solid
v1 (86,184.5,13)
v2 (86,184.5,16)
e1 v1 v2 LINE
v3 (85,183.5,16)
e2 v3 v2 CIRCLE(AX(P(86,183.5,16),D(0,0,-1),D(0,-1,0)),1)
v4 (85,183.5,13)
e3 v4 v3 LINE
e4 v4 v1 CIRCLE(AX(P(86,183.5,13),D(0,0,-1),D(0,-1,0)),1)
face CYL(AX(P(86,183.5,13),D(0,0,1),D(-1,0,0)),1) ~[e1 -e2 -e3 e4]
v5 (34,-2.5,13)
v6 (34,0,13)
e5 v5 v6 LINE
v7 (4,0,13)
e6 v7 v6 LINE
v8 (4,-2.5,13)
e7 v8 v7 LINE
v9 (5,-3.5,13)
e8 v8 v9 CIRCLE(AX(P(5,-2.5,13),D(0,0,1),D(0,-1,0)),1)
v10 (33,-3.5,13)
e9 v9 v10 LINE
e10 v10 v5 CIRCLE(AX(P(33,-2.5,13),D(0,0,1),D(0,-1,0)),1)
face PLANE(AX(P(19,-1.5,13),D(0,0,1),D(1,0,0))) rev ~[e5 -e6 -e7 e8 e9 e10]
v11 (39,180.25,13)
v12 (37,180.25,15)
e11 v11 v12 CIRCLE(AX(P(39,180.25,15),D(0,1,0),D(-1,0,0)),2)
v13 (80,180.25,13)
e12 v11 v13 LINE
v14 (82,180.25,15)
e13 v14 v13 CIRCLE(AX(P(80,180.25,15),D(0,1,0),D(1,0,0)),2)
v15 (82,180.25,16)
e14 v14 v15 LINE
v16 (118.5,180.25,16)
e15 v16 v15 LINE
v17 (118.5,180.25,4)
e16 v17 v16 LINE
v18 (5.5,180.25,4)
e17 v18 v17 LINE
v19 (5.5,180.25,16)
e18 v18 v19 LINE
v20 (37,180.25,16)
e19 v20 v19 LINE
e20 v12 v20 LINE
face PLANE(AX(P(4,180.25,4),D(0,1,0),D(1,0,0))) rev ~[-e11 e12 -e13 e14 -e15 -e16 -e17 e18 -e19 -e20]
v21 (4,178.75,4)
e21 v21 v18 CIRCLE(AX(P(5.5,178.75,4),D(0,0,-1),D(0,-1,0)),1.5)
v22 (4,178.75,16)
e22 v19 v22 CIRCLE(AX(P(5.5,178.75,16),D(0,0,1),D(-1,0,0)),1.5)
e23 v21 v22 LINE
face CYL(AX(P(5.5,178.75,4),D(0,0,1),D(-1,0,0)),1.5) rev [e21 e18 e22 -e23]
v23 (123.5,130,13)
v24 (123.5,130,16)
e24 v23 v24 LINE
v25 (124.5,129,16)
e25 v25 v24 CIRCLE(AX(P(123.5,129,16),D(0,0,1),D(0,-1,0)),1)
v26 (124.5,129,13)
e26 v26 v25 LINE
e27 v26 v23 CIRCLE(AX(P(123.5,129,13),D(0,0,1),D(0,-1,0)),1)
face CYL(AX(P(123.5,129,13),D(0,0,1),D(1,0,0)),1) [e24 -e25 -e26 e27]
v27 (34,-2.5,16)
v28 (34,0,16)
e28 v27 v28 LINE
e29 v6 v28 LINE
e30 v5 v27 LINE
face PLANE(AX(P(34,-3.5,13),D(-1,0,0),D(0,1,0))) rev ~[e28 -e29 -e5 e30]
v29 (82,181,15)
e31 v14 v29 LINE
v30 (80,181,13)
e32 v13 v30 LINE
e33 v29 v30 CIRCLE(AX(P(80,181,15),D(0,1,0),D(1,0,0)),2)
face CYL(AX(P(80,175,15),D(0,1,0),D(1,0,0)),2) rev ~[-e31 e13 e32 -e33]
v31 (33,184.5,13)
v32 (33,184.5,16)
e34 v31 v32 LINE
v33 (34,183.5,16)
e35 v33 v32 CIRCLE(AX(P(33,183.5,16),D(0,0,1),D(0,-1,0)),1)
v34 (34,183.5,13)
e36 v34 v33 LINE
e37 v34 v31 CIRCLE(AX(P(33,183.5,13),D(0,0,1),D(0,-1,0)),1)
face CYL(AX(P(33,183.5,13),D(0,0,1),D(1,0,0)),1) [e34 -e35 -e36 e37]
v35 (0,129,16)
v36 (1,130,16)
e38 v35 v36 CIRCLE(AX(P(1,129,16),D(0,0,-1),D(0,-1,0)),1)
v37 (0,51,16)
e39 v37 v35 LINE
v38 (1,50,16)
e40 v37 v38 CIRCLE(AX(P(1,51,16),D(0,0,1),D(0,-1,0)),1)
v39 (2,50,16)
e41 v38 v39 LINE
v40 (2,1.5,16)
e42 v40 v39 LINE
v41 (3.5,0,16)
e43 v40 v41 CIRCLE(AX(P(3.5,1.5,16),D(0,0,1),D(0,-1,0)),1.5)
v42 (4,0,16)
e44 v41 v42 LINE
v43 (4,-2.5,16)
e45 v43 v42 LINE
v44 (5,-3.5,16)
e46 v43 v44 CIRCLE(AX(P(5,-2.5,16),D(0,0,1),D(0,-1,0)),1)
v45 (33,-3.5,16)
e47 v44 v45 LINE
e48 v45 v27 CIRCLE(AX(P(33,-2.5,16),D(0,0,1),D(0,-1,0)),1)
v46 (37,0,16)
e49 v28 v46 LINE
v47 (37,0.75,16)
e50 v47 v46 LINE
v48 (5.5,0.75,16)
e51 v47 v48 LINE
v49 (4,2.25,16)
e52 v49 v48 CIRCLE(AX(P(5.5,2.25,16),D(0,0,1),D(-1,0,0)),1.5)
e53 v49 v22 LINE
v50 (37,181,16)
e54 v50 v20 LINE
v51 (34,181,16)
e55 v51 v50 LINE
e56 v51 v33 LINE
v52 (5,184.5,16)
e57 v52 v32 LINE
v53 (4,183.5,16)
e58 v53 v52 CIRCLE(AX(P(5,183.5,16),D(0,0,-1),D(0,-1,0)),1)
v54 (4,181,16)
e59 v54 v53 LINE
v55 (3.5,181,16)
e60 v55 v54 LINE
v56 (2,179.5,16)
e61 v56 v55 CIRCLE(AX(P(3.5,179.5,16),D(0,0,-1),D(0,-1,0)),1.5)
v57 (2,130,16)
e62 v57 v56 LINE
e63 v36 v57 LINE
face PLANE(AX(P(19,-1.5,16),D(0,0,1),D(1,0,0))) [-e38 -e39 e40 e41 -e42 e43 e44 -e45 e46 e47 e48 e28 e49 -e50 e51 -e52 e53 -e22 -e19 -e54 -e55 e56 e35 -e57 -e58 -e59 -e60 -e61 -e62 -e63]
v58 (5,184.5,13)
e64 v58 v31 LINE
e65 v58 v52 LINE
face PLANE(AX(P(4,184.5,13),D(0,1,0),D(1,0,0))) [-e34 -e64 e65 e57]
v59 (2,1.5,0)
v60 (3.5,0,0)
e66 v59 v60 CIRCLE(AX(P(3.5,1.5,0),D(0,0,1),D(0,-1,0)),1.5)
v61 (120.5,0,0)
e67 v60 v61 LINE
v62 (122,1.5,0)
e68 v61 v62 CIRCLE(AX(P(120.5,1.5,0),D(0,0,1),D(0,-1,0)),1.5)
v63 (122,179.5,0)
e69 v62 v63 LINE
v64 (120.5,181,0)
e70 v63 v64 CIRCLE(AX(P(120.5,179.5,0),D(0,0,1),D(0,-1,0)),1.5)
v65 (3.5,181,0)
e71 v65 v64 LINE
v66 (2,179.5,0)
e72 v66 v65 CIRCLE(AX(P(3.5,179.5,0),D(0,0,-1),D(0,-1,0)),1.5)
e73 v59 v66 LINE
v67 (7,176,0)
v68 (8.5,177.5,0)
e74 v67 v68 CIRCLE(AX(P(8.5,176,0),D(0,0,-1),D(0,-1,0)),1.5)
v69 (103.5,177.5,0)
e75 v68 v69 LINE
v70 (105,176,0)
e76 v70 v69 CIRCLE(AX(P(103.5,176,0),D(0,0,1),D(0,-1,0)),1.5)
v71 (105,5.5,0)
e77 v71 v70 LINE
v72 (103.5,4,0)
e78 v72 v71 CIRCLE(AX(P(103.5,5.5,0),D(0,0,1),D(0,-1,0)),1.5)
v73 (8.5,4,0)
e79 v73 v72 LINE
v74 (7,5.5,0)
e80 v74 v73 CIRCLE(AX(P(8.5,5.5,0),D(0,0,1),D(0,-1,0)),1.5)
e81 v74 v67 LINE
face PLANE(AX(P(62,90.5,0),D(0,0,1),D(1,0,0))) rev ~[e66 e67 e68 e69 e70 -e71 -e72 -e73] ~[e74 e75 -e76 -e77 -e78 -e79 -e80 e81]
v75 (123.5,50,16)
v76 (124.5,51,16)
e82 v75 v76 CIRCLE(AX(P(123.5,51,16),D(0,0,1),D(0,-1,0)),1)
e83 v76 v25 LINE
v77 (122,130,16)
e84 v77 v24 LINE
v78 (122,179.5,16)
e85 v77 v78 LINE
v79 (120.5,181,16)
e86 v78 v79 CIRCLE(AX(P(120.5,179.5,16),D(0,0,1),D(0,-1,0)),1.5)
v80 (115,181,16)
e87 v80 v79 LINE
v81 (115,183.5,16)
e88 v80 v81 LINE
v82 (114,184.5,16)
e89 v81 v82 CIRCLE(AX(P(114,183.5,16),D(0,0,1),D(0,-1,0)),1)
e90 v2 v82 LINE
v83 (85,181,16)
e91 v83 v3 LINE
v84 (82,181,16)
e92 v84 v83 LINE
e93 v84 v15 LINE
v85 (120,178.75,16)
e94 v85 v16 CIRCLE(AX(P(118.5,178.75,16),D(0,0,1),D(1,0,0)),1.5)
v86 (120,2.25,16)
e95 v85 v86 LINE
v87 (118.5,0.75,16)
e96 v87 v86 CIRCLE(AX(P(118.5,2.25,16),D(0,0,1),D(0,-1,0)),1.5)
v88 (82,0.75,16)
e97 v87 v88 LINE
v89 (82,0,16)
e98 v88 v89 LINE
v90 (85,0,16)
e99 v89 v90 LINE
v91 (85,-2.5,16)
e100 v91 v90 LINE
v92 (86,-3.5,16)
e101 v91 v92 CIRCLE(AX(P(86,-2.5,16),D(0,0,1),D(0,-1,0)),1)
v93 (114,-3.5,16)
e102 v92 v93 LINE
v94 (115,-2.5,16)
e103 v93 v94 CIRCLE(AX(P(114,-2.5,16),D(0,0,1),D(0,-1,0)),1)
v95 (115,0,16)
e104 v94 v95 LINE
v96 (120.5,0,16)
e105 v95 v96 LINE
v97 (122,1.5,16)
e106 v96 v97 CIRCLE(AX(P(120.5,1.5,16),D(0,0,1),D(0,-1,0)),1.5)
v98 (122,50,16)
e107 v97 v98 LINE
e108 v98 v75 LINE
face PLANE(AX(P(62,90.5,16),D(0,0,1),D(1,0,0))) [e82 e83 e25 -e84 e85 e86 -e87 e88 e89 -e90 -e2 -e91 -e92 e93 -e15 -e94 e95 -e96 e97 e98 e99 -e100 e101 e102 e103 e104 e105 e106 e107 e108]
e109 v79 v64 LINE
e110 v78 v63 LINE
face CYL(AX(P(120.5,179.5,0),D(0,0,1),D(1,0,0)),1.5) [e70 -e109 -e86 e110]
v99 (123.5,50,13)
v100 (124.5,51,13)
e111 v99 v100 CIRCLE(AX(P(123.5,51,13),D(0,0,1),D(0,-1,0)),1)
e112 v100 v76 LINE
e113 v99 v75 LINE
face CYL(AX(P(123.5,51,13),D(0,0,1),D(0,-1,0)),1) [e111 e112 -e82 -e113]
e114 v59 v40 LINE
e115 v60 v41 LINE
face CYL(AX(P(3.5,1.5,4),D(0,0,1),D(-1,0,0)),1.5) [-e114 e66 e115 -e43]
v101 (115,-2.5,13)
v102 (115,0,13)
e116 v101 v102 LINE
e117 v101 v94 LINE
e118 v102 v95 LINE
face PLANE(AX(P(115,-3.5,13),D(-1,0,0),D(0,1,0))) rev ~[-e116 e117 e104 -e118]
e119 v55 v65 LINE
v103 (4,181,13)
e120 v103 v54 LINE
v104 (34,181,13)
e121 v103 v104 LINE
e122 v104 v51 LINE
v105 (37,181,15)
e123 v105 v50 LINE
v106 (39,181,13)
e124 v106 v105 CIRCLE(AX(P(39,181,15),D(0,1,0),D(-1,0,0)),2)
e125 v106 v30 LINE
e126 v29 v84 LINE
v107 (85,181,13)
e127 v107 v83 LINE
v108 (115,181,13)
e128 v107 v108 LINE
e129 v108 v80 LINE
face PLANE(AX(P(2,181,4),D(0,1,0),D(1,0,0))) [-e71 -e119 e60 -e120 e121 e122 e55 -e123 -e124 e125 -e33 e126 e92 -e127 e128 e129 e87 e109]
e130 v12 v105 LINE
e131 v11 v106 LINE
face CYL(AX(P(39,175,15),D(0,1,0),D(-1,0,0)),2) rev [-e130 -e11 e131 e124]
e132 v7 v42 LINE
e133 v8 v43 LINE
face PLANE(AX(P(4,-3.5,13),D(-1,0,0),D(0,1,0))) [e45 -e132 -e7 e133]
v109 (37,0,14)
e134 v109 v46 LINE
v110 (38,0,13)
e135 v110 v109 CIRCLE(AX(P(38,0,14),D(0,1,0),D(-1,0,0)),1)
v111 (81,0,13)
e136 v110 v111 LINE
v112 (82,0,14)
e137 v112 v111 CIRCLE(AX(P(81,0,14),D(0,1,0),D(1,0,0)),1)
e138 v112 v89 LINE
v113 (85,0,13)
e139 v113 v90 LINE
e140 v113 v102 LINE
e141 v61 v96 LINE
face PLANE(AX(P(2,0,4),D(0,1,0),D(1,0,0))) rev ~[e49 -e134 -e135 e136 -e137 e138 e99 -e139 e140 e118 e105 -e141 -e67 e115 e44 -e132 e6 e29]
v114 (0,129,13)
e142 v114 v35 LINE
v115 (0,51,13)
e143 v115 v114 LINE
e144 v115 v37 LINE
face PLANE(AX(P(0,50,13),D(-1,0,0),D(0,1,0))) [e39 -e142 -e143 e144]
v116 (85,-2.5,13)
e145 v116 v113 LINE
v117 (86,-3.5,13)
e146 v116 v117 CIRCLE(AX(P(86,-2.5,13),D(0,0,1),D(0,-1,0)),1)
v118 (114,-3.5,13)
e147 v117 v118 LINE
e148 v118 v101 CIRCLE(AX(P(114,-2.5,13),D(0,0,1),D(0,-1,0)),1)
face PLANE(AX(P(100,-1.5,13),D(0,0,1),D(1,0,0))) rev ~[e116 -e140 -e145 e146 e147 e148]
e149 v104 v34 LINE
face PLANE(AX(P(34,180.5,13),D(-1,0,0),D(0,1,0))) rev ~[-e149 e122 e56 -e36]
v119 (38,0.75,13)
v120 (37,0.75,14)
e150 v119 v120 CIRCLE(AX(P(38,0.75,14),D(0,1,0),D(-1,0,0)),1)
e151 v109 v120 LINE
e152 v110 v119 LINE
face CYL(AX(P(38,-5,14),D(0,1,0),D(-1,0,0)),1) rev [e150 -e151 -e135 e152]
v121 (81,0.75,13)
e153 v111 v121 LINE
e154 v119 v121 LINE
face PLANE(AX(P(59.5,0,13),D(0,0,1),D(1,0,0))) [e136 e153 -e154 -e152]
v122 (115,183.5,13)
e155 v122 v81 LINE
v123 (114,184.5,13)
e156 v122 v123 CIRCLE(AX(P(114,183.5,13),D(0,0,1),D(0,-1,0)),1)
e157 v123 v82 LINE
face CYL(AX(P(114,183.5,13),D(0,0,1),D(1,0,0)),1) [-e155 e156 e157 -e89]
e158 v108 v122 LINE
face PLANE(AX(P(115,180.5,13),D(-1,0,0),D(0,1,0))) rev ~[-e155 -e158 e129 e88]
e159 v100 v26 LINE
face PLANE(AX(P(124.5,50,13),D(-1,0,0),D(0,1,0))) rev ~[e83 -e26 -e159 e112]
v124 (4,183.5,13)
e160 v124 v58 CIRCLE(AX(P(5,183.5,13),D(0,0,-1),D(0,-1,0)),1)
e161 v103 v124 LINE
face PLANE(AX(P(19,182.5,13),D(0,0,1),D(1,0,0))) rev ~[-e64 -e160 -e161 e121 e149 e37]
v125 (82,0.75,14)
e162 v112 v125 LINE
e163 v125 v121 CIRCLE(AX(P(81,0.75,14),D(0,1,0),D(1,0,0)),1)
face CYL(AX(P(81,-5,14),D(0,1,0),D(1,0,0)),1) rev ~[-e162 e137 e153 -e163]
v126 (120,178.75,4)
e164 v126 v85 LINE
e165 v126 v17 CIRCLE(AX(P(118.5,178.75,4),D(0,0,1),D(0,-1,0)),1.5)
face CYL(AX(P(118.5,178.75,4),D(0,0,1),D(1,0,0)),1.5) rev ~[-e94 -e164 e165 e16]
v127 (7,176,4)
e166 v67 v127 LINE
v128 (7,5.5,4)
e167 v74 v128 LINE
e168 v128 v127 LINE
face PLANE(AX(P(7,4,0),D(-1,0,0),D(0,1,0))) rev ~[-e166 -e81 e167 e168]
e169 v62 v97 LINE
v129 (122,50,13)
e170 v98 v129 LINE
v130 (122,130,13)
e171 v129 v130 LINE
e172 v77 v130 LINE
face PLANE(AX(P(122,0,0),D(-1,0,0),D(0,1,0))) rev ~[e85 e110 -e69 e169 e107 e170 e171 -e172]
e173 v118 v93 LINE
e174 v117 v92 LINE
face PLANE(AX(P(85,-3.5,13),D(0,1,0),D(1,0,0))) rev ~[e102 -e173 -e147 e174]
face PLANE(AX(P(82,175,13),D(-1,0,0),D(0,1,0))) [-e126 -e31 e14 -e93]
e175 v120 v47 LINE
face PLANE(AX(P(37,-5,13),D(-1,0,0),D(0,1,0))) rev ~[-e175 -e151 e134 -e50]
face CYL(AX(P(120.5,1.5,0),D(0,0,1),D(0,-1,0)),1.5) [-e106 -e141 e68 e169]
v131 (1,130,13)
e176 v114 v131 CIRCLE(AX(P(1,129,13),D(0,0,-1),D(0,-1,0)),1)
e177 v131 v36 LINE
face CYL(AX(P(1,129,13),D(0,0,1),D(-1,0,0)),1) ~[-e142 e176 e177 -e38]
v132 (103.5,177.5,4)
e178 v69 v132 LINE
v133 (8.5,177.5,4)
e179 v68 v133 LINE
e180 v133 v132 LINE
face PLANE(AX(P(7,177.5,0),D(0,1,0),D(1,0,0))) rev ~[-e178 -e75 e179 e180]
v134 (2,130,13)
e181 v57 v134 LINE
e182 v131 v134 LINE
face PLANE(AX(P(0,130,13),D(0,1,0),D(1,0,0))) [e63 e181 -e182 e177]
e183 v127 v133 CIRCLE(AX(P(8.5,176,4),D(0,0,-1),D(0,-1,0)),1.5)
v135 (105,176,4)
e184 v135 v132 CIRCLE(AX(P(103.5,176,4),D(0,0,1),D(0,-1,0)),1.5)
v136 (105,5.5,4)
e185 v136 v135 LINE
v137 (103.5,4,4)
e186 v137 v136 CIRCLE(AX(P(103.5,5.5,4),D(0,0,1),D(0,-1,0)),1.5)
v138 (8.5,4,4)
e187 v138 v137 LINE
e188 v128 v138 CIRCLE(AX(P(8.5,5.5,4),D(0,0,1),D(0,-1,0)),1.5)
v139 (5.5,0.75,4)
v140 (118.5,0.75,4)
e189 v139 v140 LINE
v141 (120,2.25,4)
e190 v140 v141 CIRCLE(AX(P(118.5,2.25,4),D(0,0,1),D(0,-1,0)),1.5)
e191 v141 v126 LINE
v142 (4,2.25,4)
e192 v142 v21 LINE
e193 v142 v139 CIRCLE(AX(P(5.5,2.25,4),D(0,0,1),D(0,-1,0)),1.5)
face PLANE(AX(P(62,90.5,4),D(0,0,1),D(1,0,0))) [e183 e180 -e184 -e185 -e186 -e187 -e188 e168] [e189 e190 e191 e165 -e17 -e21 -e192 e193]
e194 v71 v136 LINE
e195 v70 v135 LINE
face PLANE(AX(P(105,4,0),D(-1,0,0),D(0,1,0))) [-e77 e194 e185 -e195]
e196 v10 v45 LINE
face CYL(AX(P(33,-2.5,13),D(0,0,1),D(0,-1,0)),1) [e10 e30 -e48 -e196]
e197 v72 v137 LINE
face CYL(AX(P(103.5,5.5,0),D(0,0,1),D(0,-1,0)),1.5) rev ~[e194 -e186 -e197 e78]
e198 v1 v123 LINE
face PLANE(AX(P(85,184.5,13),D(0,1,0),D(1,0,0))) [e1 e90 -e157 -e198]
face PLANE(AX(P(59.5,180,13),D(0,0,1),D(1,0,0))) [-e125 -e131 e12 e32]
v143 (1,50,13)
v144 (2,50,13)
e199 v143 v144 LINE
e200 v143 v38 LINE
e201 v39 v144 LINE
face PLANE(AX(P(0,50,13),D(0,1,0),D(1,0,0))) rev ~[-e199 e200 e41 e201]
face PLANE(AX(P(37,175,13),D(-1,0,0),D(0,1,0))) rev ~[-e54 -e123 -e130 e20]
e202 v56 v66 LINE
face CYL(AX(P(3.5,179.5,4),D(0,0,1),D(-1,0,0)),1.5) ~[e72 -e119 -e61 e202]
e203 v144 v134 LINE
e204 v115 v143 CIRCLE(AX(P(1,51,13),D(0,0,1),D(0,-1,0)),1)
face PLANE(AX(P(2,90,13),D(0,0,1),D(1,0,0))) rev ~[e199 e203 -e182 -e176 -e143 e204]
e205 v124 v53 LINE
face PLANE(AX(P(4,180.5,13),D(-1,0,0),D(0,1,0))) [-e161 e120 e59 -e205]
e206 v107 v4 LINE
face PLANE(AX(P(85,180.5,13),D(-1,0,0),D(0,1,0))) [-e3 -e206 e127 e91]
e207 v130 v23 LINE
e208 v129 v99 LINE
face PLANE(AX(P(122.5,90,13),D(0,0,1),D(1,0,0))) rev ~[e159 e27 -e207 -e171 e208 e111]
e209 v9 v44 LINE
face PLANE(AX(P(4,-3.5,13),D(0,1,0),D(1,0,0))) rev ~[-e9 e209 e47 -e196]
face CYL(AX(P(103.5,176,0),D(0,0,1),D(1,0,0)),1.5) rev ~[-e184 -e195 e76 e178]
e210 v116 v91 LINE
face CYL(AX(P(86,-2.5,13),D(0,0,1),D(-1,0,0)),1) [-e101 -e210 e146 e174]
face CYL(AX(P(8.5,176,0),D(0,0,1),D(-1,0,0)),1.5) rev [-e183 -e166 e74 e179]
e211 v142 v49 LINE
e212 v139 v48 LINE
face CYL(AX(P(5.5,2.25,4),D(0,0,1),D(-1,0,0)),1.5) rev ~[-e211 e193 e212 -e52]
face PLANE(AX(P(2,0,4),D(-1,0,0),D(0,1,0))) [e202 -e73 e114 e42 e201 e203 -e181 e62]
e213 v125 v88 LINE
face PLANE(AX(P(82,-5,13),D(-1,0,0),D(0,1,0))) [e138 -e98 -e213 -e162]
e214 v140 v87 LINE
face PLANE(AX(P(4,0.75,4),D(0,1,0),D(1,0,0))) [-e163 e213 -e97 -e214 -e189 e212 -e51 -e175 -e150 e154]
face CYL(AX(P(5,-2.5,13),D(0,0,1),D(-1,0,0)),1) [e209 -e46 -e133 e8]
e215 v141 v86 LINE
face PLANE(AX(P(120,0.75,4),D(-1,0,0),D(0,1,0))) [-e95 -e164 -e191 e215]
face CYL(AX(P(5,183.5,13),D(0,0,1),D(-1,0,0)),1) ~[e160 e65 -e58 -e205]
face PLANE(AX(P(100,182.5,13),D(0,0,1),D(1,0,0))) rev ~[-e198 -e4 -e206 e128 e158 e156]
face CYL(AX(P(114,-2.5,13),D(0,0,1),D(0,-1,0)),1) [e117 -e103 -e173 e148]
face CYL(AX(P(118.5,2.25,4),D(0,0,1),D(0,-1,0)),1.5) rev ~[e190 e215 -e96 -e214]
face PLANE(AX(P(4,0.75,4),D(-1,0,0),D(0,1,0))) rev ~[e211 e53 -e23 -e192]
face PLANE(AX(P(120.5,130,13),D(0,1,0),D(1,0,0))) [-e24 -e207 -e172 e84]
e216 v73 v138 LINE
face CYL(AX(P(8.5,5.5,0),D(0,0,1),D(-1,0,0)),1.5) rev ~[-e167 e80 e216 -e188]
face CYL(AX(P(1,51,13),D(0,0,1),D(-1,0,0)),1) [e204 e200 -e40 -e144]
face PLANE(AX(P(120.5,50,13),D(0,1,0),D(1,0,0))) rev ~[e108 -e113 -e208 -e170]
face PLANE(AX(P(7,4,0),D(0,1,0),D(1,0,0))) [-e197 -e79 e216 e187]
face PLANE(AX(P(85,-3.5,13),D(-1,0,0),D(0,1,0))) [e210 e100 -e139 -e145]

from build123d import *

# Parameters (mm, degrees)
BOX011_W      = 4
BOX011_H      = 80
BOX011_DEPTH  = 3
FILLET006_R   = 1
BOX010_W      = 30
BOX010_H      = 4
BOX010_DEPTH  = 3
FILLET007_R   = 1
BOX009_W      = 30
BOX009_H      = 4
BOX009_DEPTH  = 3
FILLET008_R   = 1
BOX008_W      = 30
BOX008_H      = 4
BOX008_DEPTH  = 3
FILLET009_R   = 1
BOX013_W      = 4
BOX013_H      = 80
BOX013_DEPTH  = 3
FILLET010_R   = 1
BOX012_W      = 30
BOX012_H      = 4
BOX012_DEPTH  = 3
FILLET005_R   = 1
BOX006_W      = 45
BOX006_H      = 10
BOX006_DEPTH  = 10
BOX007_W      = 45
BOX007_H      = 10
BOX007_DEPTH  = 10
FILLET004_1_R = 2
FILLET004_2_R = 1
BOX003_W      = 116
BOX003_H      = 179.5
BOX003_DEPTH  = 20
FILLET002_R   = 1.5
BOX002_W      = 120
BOX002_H      = 181
BOX002_DEPTH  = 12
FILLET003_R   = 1.5
BOX001_W      = 98
BOX001_H      = 173.5
BOX001_DEPTH  = 4
FILLET_R      = 1.5
BOX_W         = 120
BOX_H         = 181
BOX_DEPTH     = 4
FILLET001_R   = 1.5


with BuildPart() as fillet006:
    # Box011 → Box011 (new body)
    with BuildSketch(Plane(origin=(0, 50, 5), x_dir=(1, 0, 0), z_dir=(0, 0, 1))):
        with Locations((2, 40)):
            Rectangle(BOX011_W, BOX011_H)
    extrude(amount=BOX011_DEPTH)

    # Fillet006
    fillet006_edges = [fillet006.edges().sort_by_distance(p)[0] for p in [
        (0, 50, 6.5),
        (0, 130, 6.5),
    ]]
    fillet(fillet006_edges, radius=FILLET006_R)


with BuildPart() as fillet007:
    # Box010 → Box010 (new body)
    with BuildSketch(Plane(origin=(85, -3.5, 5), x_dir=(1, 0, 0), z_dir=(0, 0, 1))):
        with Locations((15, 2)):
            Rectangle(BOX010_W, BOX010_H)
    extrude(amount=BOX010_DEPTH)

    # Fillet007
    fillet007_edges = [fillet007.edges().sort_by_distance(p)[0] for p in [
        (85, -3.5, 6.5),
        (115, -3.5, 6.5),
    ]]
    fillet(fillet007_edges, radius=FILLET007_R)


with BuildPart() as fillet008:
    # Box009 → Box009 (new body)
    with BuildSketch(Plane(origin=(4, 180.5, 5), x_dir=(1, 0, 0), z_dir=(0, 0, 1))):
        with Locations((15, 2)):
            Rectangle(BOX009_W, BOX009_H)
    extrude(amount=BOX009_DEPTH)

    # Fillet008
    fillet008_edges = [fillet008.edges().sort_by_distance(p)[0] for p in [
        (4, 184.5, 6.5),
        (34, 184.5, 6.5),
    ]]
    fillet(fillet008_edges, radius=FILLET008_R)


with BuildPart() as fillet009:
    # Box008 → Box008 (new body)
    with BuildSketch(Plane(origin=(85, 180.5, 5), x_dir=(1, 0, 0), z_dir=(0, 0, 1))):
        with Locations((15, 2)):
            Rectangle(BOX008_W, BOX008_H)
    extrude(amount=BOX008_DEPTH)

    # Fillet009
    fillet009_edges = [fillet009.edges().sort_by_distance(p)[0] for p in [
        (85, 184.5, 6.5),
        (115, 184.5, 6.5),
    ]]
    fillet(fillet009_edges, radius=FILLET009_R)


with BuildPart() as fillet010:
    # Box013 → Box013 (new body)
    with BuildSketch(Plane(origin=(120.5, 50, 5), x_dir=(1, 0, 0), z_dir=(0, 0, 1))):
        with Locations((2, 40)):
            Rectangle(BOX013_W, BOX013_H)
    extrude(amount=BOX013_DEPTH)

    # Fillet010
    fillet010_edges = [fillet010.edges().sort_by_distance(p)[0] for p in [
        (124.5, 50, 6.5),
        (124.5, 130, 6.5),
    ]]
    fillet(fillet010_edges, radius=FILLET010_R)


with BuildPart() as fusion002:
    # Box012 → Box012 (new body)
    with BuildSketch(Plane(origin=(4, -3.5, 5), x_dir=(1, 0, 0), z_dir=(0, 0, 1))):
        with Locations((15, 2)):
            Rectangle(BOX012_W, BOX012_H)
    extrude(amount=BOX012_DEPTH)

    # Fillet005
    fillet005_edges = [fusion002.edges().sort_by_distance(p)[0] for p in [
        (4, -3.5, 6.5),
        (34, -3.5, 6.5),
    ]]
    fillet(fillet005_edges, radius=FILLET005_R)

    # Fusion002: union Fillet006, Fillet007, Fillet008, Fillet009, Fillet010
    add(fillet006.part)
    add(fillet007.part)
    add(fillet008.part)
    add(fillet009.part)
    add(fillet010.part)


with BuildPart() as fusion002_1:
    # Fusion002 placement: moved
    add(fusion002.part.moved(Location((0, 0, 8))))


with BuildPart() as cube006:
    # Box006 → Box006 (new body)
    with BuildSketch(Plane(origin=(15, -5, 0), x_dir=(1, 0, 0), z_dir=(0, 0, 1))):
        with Locations((22.5, 5)):
            Rectangle(BOX006_W, BOX006_H)
    extrude(amount=BOX006_DEPTH)


with BuildPart() as fillet004:
    # Box007 → Box007 (new body)
    with BuildSketch(Plane(origin=(15, 175, 0), x_dir=(1, 0, 0), z_dir=(0, 0, 1))):
        with Locations((22.5, 5)):
            Rectangle(BOX007_W, BOX007_H)
    extrude(amount=BOX007_DEPTH)

    # Fusion: union Cube006
    add(cube006.part)


with BuildPart() as fillet004_1:
    # Fusion placement: moved
    add(fillet004.part.moved(Location((22, 0, 13))))

    # Fillet004 1
    fillet004_1_edges = [fillet004_1.edges().sort_by_distance(p)[0] for p in [
        (37, 180, 13),
        (82, 180, 13),
    ]]
    fillet(fillet004_1_edges, radius=FILLET004_1_R)

    # Fillet004 2
    fillet004_2_edges = [fillet004_1.edges().sort_by_distance(p)[0] for p in [
        (37, 0, 13),
        (82, 0, 13),
    ]]
    fillet(fillet004_2_edges, radius=FILLET004_2_R)


with BuildPart() as fillet002:
    # Box003 → Box003 (new body)
    with BuildSketch(Plane(origin=(4, 0.75, 4), x_dir=(1, 0, 0), z_dir=(0, 0, 1))):
        with Locations((58, 89.75)):
            Rectangle(BOX003_W, BOX003_H)
    extrude(amount=BOX003_DEPTH)

    # Fillet002
    fillet002_edges = [fillet002.edges().sort_by_distance(p)[0] for p in [
        (4, 0.75, 14),
        (4, 180.25, 14),
        (120, 0.75, 14),
        (120, 180.25, 14),
    ]]
    fillet(fillet002_edges, radius=FILLET002_R)


with BuildPart() as cut002:
    # Box002 → Box002 (new body)
    with BuildSketch(Plane(origin=(2, 0, 4), x_dir=(1, 0, 0), z_dir=(0, 0, 1))):
        with Locations((60, 90.5)):
            Rectangle(BOX002_W, BOX002_H)
    extrude(amount=BOX002_DEPTH)

    # Fillet003
    fillet003_edges = [cut002.edges().sort_by_distance(p)[0] for p in [
        (2, 0, 10),
        (2, 181, 10),
        (122, 0, 10),
        (122, 181, 10),
    ]]
    fillet(fillet003_edges, radius=FILLET003_R)

    # Cut001: cut Fillet002
    add(fillet002.part, mode=Mode.SUBTRACT)

    # Cut002: cut Fillet004
    add(fillet004_1.part, mode=Mode.SUBTRACT)


with BuildPart() as fillet_body:
    # Box001 → Box001 (new body)
    with BuildSketch(Plane(origin=(7, 4, 0), x_dir=(1, 0, 0), z_dir=(0, 0, 1))):
        with Locations((49, 86.75)):
            Rectangle(BOX001_W, BOX001_H)
    extrude(amount=BOX001_DEPTH)

    # Fillet
    fillet_edges = [fillet_body.edges().sort_by_distance(p)[0] for p in [
        (7, 4, 2),
        (7, 177.5, 2),
        (105, 4, 2),
        (105, 177.5, 2),
    ]]
    fillet(fillet_edges, radius=FILLET_R)


with BuildPart() as fusion003:
    # Box → Box (new body)
    with BuildSketch(Plane(origin=(2, 0, 0), x_dir=(1, 0, 0), z_dir=(0, 0, 1))):
        with Locations((60, 90.5)):
            Rectangle(BOX_W, BOX_H)
    extrude(amount=BOX_DEPTH)

    # Fillet001
    fillet001_edges = [fusion003.edges().sort_by_distance(p)[0] for p in [
        (2, 0, 2),
        (2, 181, 2),
        (122, 0, 2),
        (122, 181, 2),
    ]]
    fillet(fillet001_edges, radius=FILLET001_R)

    # Cut: cut Fillet body
    add(fillet_body.part, mode=Mode.SUBTRACT)

    # Fusion001: union Cut002
    add(cut002.part)

    # Fusion003: union Fusion002
    add(fusion002_1.part)


solid = fusion003.part
